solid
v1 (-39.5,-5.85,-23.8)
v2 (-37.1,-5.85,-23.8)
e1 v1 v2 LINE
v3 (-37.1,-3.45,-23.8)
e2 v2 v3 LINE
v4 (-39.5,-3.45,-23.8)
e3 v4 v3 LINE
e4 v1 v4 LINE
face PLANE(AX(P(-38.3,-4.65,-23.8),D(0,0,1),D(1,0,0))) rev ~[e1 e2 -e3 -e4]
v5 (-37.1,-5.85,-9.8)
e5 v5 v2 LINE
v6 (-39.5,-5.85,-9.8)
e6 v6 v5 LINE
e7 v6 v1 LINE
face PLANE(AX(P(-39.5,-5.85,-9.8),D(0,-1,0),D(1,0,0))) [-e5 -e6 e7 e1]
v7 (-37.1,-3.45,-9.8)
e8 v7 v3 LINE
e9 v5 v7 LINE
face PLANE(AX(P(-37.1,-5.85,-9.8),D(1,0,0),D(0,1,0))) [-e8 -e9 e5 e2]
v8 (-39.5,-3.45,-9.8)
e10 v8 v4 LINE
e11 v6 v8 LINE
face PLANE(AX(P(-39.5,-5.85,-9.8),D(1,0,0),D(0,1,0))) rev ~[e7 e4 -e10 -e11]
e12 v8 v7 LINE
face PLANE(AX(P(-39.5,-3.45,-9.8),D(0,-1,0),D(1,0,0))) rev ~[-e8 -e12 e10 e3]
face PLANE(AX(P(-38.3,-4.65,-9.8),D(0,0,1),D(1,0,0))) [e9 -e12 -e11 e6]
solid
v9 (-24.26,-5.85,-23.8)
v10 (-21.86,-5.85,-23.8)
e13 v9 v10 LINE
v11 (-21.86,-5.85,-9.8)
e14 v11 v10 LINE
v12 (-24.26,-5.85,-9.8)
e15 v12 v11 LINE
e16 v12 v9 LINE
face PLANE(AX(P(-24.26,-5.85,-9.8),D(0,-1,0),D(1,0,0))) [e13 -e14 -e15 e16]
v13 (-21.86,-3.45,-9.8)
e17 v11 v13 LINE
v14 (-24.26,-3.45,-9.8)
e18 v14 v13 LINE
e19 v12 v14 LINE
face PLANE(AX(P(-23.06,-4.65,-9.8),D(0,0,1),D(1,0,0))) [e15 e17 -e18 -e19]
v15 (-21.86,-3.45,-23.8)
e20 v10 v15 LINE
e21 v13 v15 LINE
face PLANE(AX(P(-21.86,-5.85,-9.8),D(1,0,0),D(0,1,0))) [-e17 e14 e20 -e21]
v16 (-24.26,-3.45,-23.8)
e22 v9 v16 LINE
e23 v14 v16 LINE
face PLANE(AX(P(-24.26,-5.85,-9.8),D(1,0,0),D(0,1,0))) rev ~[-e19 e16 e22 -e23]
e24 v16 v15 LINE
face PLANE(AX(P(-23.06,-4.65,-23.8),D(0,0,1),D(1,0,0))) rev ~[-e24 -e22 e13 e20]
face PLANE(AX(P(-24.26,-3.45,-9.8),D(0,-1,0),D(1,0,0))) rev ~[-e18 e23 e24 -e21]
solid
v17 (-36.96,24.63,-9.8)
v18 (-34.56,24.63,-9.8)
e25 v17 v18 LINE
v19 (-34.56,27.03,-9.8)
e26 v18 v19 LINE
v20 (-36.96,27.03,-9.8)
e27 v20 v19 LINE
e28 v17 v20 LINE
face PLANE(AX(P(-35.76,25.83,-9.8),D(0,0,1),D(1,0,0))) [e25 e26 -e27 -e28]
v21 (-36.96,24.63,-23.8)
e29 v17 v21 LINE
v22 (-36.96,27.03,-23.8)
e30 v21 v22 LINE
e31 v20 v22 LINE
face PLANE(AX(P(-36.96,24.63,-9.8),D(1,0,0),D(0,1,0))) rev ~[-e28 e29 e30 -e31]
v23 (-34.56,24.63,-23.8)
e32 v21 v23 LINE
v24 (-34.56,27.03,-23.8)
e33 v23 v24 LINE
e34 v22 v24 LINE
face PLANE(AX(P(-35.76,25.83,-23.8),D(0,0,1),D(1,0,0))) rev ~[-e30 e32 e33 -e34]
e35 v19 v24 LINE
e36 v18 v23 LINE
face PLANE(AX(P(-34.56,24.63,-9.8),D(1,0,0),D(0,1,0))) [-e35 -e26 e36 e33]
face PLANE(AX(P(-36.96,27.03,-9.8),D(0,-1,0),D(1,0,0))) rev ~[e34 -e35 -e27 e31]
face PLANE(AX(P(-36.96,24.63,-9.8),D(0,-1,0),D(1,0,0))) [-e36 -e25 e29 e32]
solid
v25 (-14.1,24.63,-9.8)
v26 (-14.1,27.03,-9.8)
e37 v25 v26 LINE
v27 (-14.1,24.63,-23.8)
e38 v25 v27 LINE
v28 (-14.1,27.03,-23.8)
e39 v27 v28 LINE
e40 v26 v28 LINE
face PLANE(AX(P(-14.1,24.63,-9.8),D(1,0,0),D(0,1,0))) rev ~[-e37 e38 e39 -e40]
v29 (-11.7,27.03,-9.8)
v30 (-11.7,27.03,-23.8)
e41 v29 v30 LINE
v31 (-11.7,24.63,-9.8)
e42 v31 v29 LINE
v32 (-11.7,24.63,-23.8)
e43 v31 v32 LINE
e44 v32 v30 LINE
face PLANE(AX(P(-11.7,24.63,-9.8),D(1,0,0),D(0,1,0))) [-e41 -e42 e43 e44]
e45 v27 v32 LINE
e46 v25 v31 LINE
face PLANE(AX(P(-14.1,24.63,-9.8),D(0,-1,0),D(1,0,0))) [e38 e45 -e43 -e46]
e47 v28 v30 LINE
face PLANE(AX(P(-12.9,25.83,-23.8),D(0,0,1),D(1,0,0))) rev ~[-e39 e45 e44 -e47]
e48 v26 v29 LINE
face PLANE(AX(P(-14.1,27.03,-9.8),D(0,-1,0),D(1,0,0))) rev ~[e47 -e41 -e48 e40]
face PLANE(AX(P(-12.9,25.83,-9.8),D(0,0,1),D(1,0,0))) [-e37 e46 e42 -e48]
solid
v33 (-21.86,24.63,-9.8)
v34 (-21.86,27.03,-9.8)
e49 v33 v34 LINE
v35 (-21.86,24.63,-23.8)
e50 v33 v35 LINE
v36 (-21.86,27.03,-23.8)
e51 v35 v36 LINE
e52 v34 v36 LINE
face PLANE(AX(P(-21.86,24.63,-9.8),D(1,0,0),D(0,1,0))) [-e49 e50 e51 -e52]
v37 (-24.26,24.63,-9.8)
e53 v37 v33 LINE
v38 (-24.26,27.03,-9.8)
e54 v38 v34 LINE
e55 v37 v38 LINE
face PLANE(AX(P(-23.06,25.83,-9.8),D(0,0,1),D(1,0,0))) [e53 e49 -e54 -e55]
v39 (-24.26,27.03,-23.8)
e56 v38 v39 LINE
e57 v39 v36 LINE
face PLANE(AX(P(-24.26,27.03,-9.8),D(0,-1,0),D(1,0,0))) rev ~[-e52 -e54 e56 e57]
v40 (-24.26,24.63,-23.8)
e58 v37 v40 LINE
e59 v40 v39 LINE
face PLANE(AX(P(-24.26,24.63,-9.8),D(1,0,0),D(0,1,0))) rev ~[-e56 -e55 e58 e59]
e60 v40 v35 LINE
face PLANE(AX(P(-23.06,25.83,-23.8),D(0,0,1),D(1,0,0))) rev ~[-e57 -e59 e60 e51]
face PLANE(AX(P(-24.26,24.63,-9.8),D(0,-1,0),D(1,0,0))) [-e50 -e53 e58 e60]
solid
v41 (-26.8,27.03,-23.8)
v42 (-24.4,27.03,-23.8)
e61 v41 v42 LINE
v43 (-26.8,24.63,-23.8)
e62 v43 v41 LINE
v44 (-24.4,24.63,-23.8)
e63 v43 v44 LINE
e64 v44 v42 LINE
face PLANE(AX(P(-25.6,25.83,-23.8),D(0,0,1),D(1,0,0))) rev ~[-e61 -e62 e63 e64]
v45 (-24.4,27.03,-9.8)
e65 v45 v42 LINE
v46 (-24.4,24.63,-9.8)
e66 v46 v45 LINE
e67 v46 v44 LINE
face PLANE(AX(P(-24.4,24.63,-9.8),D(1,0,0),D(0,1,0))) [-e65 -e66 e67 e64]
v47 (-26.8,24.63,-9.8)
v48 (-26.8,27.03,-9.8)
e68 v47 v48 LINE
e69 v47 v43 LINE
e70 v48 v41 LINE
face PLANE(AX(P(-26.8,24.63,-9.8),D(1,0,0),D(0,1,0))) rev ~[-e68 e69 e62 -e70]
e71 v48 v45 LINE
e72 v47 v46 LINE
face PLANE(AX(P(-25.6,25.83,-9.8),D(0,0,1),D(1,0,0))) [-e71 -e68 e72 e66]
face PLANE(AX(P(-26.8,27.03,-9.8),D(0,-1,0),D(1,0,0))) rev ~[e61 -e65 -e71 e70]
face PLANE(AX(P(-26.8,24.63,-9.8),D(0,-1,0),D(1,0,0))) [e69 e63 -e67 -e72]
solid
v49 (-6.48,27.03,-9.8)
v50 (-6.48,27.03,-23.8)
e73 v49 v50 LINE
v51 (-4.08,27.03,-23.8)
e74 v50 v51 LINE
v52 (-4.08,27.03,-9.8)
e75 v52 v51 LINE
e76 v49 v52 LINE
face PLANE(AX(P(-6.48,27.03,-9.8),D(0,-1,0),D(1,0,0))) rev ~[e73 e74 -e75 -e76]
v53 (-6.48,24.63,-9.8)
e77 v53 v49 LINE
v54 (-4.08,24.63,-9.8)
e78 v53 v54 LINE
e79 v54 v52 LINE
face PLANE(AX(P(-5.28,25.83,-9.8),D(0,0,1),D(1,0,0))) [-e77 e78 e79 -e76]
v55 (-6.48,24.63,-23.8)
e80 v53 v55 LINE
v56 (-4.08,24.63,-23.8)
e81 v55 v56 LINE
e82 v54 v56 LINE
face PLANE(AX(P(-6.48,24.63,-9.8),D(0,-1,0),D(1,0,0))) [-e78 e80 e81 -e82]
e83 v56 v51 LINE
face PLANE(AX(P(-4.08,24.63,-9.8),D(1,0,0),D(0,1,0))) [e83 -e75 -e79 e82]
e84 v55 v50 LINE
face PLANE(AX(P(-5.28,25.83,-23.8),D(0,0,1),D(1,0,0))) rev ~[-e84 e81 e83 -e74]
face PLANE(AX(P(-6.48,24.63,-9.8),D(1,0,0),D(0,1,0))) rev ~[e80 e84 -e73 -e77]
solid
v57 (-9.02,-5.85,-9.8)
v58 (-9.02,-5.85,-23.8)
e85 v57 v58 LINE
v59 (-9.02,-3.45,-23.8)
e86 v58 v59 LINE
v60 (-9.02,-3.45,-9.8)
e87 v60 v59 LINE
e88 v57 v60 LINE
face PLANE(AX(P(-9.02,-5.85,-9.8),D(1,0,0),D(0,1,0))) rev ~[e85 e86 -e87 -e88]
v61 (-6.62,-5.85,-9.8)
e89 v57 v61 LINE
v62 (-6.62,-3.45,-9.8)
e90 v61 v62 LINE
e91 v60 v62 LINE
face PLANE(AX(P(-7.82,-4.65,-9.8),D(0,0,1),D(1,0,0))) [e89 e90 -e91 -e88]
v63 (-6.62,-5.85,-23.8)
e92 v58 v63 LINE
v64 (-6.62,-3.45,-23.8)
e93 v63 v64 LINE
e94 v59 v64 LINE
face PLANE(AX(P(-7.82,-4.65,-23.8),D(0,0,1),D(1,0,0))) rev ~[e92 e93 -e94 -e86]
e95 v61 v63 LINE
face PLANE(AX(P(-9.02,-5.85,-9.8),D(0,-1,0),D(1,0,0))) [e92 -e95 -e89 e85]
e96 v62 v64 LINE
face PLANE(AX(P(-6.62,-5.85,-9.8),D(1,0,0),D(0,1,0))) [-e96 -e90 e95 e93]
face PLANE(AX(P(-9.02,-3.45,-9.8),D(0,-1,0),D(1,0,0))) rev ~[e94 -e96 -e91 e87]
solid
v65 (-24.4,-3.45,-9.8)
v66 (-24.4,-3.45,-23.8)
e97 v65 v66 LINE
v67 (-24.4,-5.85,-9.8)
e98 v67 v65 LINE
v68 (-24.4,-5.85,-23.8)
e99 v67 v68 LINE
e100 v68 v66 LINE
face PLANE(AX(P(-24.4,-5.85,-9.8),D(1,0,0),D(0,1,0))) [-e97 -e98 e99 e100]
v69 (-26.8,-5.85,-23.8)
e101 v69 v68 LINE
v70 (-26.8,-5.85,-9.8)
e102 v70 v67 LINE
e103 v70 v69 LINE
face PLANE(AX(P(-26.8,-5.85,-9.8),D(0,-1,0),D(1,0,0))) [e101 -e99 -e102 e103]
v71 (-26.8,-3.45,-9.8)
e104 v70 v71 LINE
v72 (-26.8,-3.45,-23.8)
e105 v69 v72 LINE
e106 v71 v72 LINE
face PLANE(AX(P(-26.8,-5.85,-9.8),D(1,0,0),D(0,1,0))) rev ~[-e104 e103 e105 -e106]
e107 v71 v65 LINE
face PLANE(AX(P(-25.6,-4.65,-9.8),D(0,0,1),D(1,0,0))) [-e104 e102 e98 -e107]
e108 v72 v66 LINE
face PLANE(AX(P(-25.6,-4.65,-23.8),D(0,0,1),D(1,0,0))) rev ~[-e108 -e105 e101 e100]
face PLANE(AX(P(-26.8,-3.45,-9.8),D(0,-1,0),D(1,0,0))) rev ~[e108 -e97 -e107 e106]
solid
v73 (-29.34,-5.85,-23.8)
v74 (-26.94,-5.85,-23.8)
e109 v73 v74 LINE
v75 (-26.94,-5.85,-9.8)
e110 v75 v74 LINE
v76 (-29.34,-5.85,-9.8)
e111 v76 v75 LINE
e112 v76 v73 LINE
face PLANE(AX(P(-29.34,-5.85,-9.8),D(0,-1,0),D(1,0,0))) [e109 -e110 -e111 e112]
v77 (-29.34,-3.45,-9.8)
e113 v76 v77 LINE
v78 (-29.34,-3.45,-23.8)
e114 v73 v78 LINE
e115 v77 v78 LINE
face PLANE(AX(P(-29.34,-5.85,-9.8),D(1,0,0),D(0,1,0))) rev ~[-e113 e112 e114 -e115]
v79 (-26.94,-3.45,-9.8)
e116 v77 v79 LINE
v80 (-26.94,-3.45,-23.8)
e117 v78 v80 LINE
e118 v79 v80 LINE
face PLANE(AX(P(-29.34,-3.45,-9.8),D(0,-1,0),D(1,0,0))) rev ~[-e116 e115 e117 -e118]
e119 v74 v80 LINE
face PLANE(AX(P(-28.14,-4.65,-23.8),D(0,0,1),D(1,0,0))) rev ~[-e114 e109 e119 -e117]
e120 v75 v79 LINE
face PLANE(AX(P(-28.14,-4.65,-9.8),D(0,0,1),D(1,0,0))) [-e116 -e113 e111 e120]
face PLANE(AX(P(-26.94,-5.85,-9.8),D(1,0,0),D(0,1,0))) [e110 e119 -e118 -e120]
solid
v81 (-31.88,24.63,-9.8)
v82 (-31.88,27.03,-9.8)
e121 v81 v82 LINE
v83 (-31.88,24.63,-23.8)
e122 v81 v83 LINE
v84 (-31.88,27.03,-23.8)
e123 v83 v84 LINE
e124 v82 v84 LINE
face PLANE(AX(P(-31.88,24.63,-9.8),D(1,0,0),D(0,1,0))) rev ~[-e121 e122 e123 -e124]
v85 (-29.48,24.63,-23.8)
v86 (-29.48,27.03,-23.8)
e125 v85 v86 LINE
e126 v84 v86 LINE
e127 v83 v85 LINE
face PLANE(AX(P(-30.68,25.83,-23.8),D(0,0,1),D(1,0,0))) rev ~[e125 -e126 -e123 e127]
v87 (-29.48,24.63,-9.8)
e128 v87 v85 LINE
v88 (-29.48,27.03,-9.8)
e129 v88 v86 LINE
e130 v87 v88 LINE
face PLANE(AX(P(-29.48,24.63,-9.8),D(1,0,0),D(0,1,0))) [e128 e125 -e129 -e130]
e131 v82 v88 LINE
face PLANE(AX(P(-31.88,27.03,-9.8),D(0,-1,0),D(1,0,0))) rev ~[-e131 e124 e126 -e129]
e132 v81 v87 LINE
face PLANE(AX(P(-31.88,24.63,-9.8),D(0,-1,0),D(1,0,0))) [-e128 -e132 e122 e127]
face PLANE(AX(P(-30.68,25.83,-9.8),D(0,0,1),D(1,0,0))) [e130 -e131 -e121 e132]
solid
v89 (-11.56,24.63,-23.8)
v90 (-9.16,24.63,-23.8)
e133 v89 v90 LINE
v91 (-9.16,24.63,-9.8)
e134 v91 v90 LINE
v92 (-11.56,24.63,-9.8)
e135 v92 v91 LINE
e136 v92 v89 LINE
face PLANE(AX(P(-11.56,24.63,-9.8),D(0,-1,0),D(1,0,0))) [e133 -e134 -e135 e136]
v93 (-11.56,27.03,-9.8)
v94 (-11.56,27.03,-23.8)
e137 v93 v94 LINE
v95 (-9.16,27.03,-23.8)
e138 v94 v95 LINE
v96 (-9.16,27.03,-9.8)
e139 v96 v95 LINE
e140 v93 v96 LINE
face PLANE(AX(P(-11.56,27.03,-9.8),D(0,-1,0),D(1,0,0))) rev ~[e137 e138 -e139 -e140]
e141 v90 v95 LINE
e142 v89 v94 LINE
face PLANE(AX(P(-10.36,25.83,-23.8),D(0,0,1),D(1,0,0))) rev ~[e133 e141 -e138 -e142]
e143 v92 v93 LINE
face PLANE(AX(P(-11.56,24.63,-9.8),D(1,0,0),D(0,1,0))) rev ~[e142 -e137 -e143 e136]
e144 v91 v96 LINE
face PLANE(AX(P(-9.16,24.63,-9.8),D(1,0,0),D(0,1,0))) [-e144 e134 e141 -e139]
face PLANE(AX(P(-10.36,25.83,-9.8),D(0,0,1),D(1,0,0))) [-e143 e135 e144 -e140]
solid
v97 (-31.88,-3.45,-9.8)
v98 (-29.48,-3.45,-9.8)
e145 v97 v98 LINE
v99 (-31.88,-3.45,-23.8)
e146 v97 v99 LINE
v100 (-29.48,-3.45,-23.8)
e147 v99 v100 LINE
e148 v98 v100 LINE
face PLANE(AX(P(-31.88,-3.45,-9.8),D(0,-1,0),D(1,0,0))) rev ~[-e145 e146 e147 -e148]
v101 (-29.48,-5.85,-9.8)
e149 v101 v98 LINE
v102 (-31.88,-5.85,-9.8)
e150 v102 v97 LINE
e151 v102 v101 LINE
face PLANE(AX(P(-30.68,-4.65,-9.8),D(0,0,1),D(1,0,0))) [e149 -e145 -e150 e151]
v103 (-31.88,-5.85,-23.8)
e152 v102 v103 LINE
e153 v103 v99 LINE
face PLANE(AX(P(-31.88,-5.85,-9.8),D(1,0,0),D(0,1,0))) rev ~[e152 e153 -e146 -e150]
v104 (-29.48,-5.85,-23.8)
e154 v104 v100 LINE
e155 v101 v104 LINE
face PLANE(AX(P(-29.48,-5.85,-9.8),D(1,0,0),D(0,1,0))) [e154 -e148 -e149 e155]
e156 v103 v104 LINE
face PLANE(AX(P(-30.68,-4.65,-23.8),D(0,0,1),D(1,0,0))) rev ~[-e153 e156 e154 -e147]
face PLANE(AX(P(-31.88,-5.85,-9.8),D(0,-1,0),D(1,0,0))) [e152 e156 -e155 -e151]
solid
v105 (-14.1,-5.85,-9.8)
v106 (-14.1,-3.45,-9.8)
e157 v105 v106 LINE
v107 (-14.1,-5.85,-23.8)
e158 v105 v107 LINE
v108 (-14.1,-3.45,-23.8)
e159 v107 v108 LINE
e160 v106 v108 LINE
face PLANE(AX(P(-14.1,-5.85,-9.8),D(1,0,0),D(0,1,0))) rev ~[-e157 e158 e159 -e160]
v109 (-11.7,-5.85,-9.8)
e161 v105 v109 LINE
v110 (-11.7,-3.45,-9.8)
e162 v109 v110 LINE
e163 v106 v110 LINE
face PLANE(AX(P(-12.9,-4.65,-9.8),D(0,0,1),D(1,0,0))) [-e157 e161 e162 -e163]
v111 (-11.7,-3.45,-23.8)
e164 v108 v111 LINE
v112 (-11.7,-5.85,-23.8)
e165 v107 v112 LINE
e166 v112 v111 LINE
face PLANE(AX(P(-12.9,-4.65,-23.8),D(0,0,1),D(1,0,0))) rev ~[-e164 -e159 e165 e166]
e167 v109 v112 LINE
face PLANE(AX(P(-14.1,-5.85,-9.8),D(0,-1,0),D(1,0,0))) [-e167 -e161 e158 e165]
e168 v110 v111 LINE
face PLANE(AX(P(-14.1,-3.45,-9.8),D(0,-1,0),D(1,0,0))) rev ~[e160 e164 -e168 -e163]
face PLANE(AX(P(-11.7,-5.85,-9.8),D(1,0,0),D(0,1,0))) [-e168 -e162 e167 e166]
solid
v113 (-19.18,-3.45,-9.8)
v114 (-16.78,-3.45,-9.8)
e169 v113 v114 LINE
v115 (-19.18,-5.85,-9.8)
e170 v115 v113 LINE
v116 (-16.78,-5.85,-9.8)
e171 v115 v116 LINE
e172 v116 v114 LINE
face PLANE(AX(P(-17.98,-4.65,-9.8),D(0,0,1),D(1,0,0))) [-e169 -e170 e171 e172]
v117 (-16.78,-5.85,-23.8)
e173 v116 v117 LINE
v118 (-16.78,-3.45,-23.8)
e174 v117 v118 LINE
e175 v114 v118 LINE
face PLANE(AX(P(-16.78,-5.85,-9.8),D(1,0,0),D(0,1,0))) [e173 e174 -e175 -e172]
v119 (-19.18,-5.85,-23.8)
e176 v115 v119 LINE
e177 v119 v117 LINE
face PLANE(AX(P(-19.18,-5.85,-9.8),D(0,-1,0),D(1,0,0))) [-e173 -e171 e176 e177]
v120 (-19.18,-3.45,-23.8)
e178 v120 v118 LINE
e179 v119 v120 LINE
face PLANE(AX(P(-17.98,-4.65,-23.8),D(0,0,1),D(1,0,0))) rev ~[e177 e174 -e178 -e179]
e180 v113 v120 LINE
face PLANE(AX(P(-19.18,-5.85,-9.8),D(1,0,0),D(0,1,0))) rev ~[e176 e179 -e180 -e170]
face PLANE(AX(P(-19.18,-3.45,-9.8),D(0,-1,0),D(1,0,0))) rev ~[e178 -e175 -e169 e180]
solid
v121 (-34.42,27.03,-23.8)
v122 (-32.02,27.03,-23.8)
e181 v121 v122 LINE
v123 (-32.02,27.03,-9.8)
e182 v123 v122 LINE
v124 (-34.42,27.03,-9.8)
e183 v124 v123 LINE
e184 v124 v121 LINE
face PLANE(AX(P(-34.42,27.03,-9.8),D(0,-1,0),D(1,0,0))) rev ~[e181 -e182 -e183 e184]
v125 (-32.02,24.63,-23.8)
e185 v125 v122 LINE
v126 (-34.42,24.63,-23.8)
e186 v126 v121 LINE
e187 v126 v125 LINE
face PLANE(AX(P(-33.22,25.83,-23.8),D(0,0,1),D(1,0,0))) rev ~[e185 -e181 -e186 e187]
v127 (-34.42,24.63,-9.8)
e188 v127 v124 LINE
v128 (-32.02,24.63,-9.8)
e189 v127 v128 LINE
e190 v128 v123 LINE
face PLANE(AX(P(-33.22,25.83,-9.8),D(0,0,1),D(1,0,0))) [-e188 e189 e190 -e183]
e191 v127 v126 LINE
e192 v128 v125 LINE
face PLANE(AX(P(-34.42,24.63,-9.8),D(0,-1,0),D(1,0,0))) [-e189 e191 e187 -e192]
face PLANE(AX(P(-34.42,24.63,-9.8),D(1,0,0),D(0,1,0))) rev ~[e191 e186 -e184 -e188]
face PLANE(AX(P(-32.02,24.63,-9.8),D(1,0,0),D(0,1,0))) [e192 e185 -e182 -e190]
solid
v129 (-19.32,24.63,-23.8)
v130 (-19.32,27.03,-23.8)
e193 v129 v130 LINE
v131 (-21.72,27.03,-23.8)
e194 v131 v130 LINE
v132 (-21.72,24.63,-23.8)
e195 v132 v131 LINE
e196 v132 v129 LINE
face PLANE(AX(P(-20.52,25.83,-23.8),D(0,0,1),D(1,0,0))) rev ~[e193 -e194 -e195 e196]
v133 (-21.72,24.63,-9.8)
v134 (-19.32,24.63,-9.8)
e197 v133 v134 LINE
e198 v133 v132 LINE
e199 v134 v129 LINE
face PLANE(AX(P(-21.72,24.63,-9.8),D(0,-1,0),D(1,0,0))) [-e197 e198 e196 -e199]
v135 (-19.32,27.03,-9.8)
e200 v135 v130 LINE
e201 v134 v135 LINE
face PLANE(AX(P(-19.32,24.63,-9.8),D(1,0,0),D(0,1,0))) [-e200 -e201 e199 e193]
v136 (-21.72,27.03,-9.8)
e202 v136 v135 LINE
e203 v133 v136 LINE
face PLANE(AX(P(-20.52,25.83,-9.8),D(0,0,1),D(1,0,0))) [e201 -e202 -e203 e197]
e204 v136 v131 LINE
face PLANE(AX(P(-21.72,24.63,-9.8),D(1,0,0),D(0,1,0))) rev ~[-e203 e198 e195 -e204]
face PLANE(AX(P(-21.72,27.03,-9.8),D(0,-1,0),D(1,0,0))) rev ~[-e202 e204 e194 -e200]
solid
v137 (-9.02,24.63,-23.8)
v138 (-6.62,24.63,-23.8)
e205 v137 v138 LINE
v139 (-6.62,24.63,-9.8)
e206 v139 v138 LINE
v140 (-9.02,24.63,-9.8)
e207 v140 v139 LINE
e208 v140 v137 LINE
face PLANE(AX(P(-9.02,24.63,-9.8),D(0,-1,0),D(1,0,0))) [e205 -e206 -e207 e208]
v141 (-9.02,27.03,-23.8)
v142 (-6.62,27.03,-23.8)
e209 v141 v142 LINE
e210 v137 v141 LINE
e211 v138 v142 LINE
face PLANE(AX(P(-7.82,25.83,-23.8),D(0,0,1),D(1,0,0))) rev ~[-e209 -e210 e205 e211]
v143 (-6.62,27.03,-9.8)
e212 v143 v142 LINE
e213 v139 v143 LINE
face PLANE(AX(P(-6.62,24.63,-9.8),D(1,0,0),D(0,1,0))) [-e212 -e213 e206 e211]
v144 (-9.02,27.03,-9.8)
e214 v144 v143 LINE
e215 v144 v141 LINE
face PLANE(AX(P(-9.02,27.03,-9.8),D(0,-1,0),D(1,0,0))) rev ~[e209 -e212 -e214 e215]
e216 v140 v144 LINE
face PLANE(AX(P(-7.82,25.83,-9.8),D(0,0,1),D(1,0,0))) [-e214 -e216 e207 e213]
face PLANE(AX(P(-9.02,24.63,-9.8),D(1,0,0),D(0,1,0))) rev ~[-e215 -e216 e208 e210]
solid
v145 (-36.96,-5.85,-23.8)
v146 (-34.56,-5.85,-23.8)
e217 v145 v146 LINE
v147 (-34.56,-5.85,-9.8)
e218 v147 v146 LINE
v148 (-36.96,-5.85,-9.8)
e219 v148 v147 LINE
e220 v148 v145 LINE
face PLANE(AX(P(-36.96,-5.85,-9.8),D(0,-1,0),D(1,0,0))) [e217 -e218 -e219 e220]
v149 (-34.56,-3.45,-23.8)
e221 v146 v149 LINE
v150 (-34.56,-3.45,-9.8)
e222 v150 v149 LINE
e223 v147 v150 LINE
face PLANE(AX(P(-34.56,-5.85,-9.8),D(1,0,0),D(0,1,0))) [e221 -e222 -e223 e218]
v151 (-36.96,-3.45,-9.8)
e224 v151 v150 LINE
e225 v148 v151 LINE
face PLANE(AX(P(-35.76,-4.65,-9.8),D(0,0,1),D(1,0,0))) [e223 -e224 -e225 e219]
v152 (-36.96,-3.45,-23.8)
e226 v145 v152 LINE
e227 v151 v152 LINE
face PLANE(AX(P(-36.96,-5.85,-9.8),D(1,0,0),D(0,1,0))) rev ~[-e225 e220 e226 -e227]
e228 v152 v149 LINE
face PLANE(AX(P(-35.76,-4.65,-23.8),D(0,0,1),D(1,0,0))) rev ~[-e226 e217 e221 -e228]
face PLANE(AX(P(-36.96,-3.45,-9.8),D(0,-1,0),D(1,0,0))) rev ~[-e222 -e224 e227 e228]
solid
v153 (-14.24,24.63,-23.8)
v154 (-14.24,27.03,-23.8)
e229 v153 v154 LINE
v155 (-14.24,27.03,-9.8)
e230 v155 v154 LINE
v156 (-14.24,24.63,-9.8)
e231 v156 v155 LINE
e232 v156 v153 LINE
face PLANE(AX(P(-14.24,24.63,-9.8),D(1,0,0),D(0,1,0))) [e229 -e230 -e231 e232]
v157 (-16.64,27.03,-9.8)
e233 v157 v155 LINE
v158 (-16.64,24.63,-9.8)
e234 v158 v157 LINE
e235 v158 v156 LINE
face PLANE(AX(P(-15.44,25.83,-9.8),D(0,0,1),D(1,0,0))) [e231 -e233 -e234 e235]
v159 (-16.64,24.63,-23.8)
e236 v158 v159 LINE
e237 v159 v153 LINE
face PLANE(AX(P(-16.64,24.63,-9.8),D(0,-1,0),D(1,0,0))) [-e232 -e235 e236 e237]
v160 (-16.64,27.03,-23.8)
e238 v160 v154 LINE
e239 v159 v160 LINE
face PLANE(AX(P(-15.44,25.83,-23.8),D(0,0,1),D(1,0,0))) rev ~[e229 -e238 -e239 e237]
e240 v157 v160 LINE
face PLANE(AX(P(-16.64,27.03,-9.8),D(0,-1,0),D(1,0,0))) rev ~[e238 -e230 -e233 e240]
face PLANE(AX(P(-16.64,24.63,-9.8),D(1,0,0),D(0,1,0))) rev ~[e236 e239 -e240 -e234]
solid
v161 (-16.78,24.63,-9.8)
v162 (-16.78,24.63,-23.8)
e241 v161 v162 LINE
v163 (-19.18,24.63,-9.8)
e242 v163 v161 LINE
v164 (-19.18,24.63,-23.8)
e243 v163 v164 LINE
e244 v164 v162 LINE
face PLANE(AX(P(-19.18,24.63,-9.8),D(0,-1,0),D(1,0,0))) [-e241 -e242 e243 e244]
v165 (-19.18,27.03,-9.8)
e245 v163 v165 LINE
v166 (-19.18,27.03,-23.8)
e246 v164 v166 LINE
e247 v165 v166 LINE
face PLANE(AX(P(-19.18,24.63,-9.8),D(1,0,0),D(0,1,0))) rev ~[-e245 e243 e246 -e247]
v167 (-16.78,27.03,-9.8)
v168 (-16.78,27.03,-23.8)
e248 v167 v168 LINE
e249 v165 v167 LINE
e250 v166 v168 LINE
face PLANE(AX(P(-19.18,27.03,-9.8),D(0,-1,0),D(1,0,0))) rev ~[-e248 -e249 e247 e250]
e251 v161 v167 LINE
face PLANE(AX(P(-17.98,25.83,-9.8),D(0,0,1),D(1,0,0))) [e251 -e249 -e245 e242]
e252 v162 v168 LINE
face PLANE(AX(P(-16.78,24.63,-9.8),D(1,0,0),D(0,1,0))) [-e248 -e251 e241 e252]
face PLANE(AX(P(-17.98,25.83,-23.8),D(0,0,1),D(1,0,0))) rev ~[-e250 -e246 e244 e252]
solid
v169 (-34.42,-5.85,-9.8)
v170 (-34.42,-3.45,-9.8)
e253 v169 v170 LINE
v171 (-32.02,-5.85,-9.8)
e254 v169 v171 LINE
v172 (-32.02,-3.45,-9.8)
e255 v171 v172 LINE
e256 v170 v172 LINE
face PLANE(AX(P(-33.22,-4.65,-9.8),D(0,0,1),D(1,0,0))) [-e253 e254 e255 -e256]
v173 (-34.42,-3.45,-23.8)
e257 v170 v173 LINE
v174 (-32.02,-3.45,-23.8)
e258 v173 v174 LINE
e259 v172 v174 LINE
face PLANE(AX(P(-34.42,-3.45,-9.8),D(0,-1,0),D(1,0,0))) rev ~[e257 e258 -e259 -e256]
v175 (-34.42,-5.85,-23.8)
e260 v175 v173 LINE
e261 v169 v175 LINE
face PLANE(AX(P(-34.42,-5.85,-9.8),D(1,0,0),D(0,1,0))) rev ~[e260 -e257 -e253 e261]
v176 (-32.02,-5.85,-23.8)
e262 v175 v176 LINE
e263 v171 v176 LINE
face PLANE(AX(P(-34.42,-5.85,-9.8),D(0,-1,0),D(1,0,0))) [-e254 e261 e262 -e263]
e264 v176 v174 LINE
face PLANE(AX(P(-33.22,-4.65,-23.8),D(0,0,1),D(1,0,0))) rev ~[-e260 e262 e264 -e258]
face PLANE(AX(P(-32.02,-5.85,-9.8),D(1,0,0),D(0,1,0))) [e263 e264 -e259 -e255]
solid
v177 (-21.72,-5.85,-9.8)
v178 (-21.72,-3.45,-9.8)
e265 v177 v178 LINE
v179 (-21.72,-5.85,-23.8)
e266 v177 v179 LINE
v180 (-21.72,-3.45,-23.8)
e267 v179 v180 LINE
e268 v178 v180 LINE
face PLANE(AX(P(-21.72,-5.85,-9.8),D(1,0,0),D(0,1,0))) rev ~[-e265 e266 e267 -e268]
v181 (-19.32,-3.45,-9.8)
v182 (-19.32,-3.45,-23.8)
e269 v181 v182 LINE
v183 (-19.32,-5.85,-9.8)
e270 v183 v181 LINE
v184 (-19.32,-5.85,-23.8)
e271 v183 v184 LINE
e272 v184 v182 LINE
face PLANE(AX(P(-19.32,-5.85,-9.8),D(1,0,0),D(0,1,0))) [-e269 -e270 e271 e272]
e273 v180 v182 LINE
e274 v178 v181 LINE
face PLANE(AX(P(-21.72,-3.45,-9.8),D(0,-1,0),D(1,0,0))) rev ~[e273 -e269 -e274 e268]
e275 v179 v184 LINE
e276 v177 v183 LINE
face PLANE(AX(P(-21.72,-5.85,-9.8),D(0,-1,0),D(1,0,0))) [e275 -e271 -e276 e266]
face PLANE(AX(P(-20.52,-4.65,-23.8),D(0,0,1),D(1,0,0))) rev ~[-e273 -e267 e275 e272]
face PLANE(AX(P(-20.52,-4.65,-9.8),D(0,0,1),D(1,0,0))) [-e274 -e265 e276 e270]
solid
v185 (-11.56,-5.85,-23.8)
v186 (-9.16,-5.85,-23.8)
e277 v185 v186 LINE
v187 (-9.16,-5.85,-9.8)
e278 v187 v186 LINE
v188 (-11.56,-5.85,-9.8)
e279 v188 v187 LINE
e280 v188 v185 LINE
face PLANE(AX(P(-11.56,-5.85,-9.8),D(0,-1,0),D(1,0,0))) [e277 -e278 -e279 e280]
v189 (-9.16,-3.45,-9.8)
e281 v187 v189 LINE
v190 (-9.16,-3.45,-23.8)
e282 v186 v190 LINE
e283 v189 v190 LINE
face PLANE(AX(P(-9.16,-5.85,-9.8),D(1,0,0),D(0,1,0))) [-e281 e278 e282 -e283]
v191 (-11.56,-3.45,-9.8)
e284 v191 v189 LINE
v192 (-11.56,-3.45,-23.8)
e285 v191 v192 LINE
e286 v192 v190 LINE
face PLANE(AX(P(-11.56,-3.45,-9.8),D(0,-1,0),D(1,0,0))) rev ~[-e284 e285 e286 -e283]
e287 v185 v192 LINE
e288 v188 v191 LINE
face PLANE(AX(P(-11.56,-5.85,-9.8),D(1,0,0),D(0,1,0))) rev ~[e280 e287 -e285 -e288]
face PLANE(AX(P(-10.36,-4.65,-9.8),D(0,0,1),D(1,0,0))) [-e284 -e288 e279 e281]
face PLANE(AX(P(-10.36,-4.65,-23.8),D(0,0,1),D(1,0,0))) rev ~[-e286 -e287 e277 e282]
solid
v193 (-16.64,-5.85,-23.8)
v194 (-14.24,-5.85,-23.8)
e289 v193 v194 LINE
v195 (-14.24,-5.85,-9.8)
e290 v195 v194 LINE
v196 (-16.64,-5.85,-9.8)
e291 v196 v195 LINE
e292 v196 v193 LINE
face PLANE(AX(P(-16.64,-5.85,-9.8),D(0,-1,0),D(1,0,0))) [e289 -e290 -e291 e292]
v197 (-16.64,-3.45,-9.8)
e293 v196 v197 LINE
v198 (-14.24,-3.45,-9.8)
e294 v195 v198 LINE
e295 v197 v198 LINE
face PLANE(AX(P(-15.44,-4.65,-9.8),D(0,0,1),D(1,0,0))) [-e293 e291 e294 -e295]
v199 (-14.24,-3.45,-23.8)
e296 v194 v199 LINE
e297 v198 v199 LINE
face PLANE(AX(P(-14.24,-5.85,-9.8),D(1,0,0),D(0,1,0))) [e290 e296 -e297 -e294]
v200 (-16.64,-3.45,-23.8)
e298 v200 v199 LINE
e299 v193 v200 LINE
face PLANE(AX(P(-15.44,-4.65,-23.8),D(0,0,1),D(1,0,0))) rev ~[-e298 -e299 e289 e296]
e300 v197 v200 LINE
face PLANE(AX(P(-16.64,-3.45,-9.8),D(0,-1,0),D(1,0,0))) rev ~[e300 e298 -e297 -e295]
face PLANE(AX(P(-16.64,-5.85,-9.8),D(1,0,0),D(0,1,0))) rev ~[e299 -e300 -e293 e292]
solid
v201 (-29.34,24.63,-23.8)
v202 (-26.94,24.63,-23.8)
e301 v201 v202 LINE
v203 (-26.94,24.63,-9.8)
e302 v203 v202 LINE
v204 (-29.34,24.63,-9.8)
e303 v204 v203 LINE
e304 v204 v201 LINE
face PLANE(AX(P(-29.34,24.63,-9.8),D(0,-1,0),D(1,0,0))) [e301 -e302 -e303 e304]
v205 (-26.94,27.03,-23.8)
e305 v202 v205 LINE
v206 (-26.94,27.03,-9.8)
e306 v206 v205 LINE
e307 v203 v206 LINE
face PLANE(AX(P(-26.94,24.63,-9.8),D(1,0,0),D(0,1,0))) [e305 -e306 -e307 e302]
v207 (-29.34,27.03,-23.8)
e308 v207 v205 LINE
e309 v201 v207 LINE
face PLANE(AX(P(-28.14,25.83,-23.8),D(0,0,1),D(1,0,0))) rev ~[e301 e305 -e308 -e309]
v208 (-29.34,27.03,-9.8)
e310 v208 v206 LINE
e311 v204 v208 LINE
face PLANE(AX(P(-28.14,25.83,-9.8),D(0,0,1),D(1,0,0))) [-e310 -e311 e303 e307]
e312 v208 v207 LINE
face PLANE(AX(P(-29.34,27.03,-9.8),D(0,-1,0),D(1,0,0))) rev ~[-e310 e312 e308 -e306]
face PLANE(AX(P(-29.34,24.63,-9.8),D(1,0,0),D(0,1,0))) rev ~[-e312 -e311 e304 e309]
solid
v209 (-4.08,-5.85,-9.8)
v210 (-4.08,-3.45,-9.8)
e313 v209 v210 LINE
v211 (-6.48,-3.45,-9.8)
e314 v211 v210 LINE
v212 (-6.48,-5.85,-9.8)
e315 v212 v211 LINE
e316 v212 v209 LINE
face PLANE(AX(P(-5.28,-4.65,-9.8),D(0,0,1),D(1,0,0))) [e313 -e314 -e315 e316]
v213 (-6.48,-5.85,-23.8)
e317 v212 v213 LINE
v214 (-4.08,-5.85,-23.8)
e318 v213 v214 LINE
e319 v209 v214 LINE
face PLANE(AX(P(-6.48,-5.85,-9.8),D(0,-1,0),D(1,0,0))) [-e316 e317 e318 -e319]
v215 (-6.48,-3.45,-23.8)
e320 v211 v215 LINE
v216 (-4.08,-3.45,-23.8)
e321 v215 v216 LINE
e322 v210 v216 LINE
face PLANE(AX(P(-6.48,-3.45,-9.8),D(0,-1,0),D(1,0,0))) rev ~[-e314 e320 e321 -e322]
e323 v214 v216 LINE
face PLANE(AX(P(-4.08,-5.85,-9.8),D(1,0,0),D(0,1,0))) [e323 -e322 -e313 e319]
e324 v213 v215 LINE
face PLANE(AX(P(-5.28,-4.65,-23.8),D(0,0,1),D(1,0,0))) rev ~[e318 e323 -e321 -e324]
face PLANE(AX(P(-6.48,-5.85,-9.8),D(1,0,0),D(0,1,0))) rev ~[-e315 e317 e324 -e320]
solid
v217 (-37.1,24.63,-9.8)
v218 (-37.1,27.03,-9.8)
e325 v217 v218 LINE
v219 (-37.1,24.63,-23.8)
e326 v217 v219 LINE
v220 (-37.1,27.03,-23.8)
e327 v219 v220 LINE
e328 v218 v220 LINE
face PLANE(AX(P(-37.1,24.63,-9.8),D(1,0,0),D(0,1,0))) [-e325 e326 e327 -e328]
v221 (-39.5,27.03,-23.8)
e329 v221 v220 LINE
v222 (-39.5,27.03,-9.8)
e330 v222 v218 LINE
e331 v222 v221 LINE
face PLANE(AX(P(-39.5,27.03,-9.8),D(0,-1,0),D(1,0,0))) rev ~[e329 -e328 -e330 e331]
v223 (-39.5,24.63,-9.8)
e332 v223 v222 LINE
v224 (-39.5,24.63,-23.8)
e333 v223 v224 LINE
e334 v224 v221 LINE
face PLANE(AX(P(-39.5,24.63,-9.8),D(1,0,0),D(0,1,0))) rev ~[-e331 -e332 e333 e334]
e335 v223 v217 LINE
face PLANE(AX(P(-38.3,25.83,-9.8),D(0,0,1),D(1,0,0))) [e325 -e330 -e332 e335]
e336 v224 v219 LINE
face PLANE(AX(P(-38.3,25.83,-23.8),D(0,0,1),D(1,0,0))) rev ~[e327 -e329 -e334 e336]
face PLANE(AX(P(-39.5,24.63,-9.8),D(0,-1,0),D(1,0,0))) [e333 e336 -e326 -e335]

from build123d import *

# Parameters (mm, degrees)
HOUSINGS_SK1_W    = 2.4
HOUSINGS_SK1_H    = 2.4
HOUSINGS_DEPTH    = 14
HOUSINGS_2_DEPTH  = 14
HOUSINGS_3_DEPTH  = 14
HOUSINGS_4_DEPTH  = 14
HOUSINGS_5_DEPTH  = 14
HOUSINGS_6_DEPTH  = 14
HOUSINGS_7_DEPTH  = 14
HOUSINGS_8_DEPTH  = 14
HOUSINGS_9_DEPTH  = 14
HOUSINGS_10_DEPTH = 14
HOUSINGS_11_DEPTH = 14
HOUSINGS_12_DEPTH = 14
HOUSINGS_13_DEPTH = 14
HOUSINGS_14_DEPTH = 14
HOUSINGS_15_DEPTH = 14
HOUSINGS_16_DEPTH = 14
HOUSINGS_17_DEPTH = 14
HOUSINGS_18_DEPTH = 14
HOUSINGS_19_DEPTH = 14
HOUSINGS_20_DEPTH = 14
HOUSINGS_21_DEPTH = 14
HOUSINGS_22_DEPTH = 14
HOUSINGS_23_DEPTH = 14
HOUSINGS_24_DEPTH = 14
HOUSINGS_25_DEPTH = 14
HOUSINGS_26_DEPTH = 14
HOUSINGS_27_DEPTH = 14
HOUSINGS_28_DEPTH = 14


with BuildPart() as part:
    # Housings_Sk1 → Housings (new body)
    with BuildSketch(Plane.XY.offset(-9.8)):
        with Locations((-38.3, -4.65)):
            Rectangle(HOUSINGS_SK1_W, HOUSINGS_SK1_H)
    extrude(amount=-HOUSINGS_DEPTH)


with BuildPart() as body_2:
    # Housings_Sk1 → Housings 2 (new body)
    with BuildSketch(Plane.XY.offset(-9.8)):
        with Locations((-35.76, -4.65)):
            Rectangle(HOUSINGS_SK1_W, HOUSINGS_SK1_H)
    extrude(amount=-HOUSINGS_2_DEPTH)


with BuildPart() as body_3:
    # Housings_Sk1 → Housings 3 (new body)
    with BuildSketch(Plane.XY.offset(-9.8)):
        with Locations((-33.22, -4.65)):
            Rectangle(HOUSINGS_SK1_W, HOUSINGS_SK1_H)
    extrude(amount=-HOUSINGS_3_DEPTH)


with BuildPart() as body_4:
    # Housings_Sk1 → Housings 4 (new body)
    with BuildSketch(Plane.XY.offset(-9.8)):
        with Locations((-30.68, -4.65)):
            Rectangle(HOUSINGS_SK1_W, HOUSINGS_SK1_H)
    extrude(amount=-HOUSINGS_4_DEPTH)


with BuildPart() as body_5:
    # Housings_Sk1 → Housings 5 (new body)
    with BuildSketch(Plane.XY.offset(-9.8)):
        with Locations((-28.14, -4.65)):
            Rectangle(HOUSINGS_SK1_W, HOUSINGS_SK1_H)
    extrude(amount=-HOUSINGS_5_DEPTH)


with BuildPart() as body_6:
    # Housings_Sk1 → Housings 6 (new body)
    with BuildSketch(Plane.XY.offset(-9.8)):
        with Locations((-25.6, -4.65)):
            Rectangle(HOUSINGS_SK1_W, HOUSINGS_SK1_H)
    extrude(amount=-HOUSINGS_6_DEPTH)


with BuildPart() as body_7:
    # Housings_Sk1 → Housings 7 (new body)
    with BuildSketch(Plane.XY.offset(-9.8)):
        with Locations((-23.06, -4.65)):
            Rectangle(HOUSINGS_SK1_W, HOUSINGS_SK1_H)
    extrude(amount=-HOUSINGS_7_DEPTH)


with BuildPart() as body_8:
    # Housings_Sk1 → Housings 8 (new body)
    with BuildSketch(Plane.XY.offset(-9.8)):
        with Locations((-20.52, -4.65)):
            Rectangle(HOUSINGS_SK1_W, HOUSINGS_SK1_H)
    extrude(amount=-HOUSINGS_8_DEPTH)


with BuildPart() as body_9:
    # Housings_Sk1 → Housings 9 (new body)
    with BuildSketch(Plane.XY.offset(-9.8)):
        with Locations((-17.98, -4.65)):
            Rectangle(HOUSINGS_SK1_W, HOUSINGS_SK1_H)
    extrude(amount=-HOUSINGS_9_DEPTH)


with BuildPart() as body_10:
    # Housings_Sk1 → Housings 10 (new body)
    with BuildSketch(Plane.XY.offset(-9.8)):
        with Locations((-15.44, -4.65)):
            Rectangle(HOUSINGS_SK1_W, HOUSINGS_SK1_H)
    extrude(amount=-HOUSINGS_10_DEPTH)


with BuildPart() as body_11:
    # Housings_Sk1 → Housings 11 (new body)
    with BuildSketch(Plane.XY.offset(-9.8)):
        with Locations((-12.9, -4.65)):
            Rectangle(HOUSINGS_SK1_W, HOUSINGS_SK1_H)
    extrude(amount=-HOUSINGS_11_DEPTH)


with BuildPart() as body_12:
    # Housings_Sk1 → Housings 12 (new body)
    with BuildSketch(Plane.XY.offset(-9.8)):
        with Locations((-10.36, -4.65)):
            Rectangle(HOUSINGS_SK1_W, HOUSINGS_SK1_H)
    extrude(amount=-HOUSINGS_12_DEPTH)


with BuildPart() as body_13:
    # Housings_Sk1 → Housings 13 (new body)
    with BuildSketch(Plane.XY.offset(-9.8)):
        with Locations((-7.82, -4.65)):
            Rectangle(HOUSINGS_SK1_W, HOUSINGS_SK1_H)
    extrude(amount=-HOUSINGS_13_DEPTH)


with BuildPart() as body_14:
    # Housings_Sk1 → Housings 14 (new body)
    with BuildSketch(Plane.XY.offset(-9.8)):
        with Locations((-5.28, -4.65)):
            Rectangle(HOUSINGS_SK1_W, HOUSINGS_SK1_H)
    extrude(amount=-HOUSINGS_14_DEPTH)


with BuildPart() as body_15:
    # Housings_Sk1 → Housings 15 (new body)
    with BuildSketch(Plane.XY.offset(-9.8)):
        with Locations((-38.3, 25.83)):
            Rectangle(HOUSINGS_SK1_W, HOUSINGS_SK1_H)
    extrude(amount=-HOUSINGS_15_DEPTH)


with BuildPart() as body_16:
    # Housings_Sk1 → Housings 16 (new body)
    with BuildSketch(Plane.XY.offset(-9.8)):
        with Locations((-35.76, 25.83)):
            Rectangle(HOUSINGS_SK1_W, HOUSINGS_SK1_H)
    extrude(amount=-HOUSINGS_16_DEPTH)


with BuildPart() as body_17:
    # Housings_Sk1 → Housings 17 (new body)
    with BuildSketch(Plane.XY.offset(-9.8)):
        with Locations((-33.22, 25.83)):
            Rectangle(HOUSINGS_SK1_W, HOUSINGS_SK1_H)
    extrude(amount=-HOUSINGS_17_DEPTH)


with BuildPart() as body_18:
    # Housings_Sk1 → Housings 18 (new body)
    with BuildSketch(Plane.XY.offset(-9.8)):
        with Locations((-30.68, 25.83)):
            Rectangle(HOUSINGS_SK1_W, HOUSINGS_SK1_H)
    extrude(amount=-HOUSINGS_18_DEPTH)


with BuildPart() as body_19:
    # Housings_Sk1 → Housings 19 (new body)
    with BuildSketch(Plane.XY.offset(-9.8)):
        with Locations((-28.14, 25.83)):
            Rectangle(HOUSINGS_SK1_W, HOUSINGS_SK1_H)
    extrude(amount=-HOUSINGS_19_DEPTH)


with BuildPart() as body_20:
    # Housings_Sk1 → Housings 20 (new body)
    with BuildSketch(Plane.XY.offset(-9.8)):
        with Locations((-25.6, 25.83)):
            Rectangle(HOUSINGS_SK1_W, HOUSINGS_SK1_H)
    extrude(amount=-HOUSINGS_20_DEPTH)


with BuildPart() as body_21:
    # Housings_Sk1 → Housings 21 (new body)
    with BuildSketch(Plane.XY.offset(-9.8)):
        with Locations((-23.06, 25.83)):
            Rectangle(HOUSINGS_SK1_W, HOUSINGS_SK1_H)
    extrude(amount=-HOUSINGS_21_DEPTH)


with BuildPart() as body_22:
    # Housings_Sk1 → Housings 22 (new body)
    with BuildSketch(Plane.XY.offset(-9.8)):
        with Locations((-20.52, 25.83)):
            Rectangle(HOUSINGS_SK1_W, HOUSINGS_SK1_H)
    extrude(amount=-HOUSINGS_22_DEPTH)


with BuildPart() as body_23:
    # Housings_Sk1 → Housings 23 (new body)
    with BuildSketch(Plane.XY.offset(-9.8)):
        with Locations((-17.98, 25.83)):
            Rectangle(HOUSINGS_SK1_W, HOUSINGS_SK1_H)
    extrude(amount=-HOUSINGS_23_DEPTH)


with BuildPart() as body_24:
    # Housings_Sk1 → Housings 24 (new body)
    with BuildSketch(Plane.XY.offset(-9.8)):
        with Locations((-15.44, 25.83)):
            Rectangle(HOUSINGS_SK1_W, HOUSINGS_SK1_H)
    extrude(amount=-HOUSINGS_24_DEPTH)


with BuildPart() as body_25:
    # Housings_Sk1 → Housings 25 (new body)
    with BuildSketch(Plane.XY.offset(-9.8)):
        with Locations((-12.9, 25.83)):
            Rectangle(HOUSINGS_SK1_W, HOUSINGS_SK1_H)
    extrude(amount=-HOUSINGS_25_DEPTH)


with BuildPart() as body_26:
    # Housings_Sk1 → Housings 26 (new body)
    with BuildSketch(Plane.XY.offset(-9.8)):
        with Locations((-10.36, 25.83)):
            Rectangle(HOUSINGS_SK1_W, HOUSINGS_SK1_H)
    extrude(amount=-HOUSINGS_26_DEPTH)


with BuildPart() as body_27:
    # Housings_Sk1 → Housings 27 (new body)
    with BuildSketch(Plane.XY.offset(-9.8)):
        with Locations((-7.82, 25.83)):
            Rectangle(HOUSINGS_SK1_W, HOUSINGS_SK1_H)
    extrude(amount=-HOUSINGS_27_DEPTH)


with BuildPart() as body_28:
    # Housings_Sk1 → Housings 28 (new body)
    with BuildSketch(Plane.XY.offset(-9.8)):
        with Locations((-5.28, 25.83)):
            Rectangle(HOUSINGS_SK1_W, HOUSINGS_SK1_H)
    extrude(amount=-HOUSINGS_28_DEPTH)


solid = Compound([part.part, body_2.part, body_3.part, body_4.part, body_5.part, body_6.part, body_7.part, body_8.part, body_9.part, body_10.part, body_11.part, body_12.part, body_13.part, body_14.part, body_15.part, body_16.part, body_17.part, body_18.part, body_19.part, body_20.part, body_21.part, body_22.part, body_23.part, body_24.part, body_25.part, body_26.part, body_27.part, body_28.part])
